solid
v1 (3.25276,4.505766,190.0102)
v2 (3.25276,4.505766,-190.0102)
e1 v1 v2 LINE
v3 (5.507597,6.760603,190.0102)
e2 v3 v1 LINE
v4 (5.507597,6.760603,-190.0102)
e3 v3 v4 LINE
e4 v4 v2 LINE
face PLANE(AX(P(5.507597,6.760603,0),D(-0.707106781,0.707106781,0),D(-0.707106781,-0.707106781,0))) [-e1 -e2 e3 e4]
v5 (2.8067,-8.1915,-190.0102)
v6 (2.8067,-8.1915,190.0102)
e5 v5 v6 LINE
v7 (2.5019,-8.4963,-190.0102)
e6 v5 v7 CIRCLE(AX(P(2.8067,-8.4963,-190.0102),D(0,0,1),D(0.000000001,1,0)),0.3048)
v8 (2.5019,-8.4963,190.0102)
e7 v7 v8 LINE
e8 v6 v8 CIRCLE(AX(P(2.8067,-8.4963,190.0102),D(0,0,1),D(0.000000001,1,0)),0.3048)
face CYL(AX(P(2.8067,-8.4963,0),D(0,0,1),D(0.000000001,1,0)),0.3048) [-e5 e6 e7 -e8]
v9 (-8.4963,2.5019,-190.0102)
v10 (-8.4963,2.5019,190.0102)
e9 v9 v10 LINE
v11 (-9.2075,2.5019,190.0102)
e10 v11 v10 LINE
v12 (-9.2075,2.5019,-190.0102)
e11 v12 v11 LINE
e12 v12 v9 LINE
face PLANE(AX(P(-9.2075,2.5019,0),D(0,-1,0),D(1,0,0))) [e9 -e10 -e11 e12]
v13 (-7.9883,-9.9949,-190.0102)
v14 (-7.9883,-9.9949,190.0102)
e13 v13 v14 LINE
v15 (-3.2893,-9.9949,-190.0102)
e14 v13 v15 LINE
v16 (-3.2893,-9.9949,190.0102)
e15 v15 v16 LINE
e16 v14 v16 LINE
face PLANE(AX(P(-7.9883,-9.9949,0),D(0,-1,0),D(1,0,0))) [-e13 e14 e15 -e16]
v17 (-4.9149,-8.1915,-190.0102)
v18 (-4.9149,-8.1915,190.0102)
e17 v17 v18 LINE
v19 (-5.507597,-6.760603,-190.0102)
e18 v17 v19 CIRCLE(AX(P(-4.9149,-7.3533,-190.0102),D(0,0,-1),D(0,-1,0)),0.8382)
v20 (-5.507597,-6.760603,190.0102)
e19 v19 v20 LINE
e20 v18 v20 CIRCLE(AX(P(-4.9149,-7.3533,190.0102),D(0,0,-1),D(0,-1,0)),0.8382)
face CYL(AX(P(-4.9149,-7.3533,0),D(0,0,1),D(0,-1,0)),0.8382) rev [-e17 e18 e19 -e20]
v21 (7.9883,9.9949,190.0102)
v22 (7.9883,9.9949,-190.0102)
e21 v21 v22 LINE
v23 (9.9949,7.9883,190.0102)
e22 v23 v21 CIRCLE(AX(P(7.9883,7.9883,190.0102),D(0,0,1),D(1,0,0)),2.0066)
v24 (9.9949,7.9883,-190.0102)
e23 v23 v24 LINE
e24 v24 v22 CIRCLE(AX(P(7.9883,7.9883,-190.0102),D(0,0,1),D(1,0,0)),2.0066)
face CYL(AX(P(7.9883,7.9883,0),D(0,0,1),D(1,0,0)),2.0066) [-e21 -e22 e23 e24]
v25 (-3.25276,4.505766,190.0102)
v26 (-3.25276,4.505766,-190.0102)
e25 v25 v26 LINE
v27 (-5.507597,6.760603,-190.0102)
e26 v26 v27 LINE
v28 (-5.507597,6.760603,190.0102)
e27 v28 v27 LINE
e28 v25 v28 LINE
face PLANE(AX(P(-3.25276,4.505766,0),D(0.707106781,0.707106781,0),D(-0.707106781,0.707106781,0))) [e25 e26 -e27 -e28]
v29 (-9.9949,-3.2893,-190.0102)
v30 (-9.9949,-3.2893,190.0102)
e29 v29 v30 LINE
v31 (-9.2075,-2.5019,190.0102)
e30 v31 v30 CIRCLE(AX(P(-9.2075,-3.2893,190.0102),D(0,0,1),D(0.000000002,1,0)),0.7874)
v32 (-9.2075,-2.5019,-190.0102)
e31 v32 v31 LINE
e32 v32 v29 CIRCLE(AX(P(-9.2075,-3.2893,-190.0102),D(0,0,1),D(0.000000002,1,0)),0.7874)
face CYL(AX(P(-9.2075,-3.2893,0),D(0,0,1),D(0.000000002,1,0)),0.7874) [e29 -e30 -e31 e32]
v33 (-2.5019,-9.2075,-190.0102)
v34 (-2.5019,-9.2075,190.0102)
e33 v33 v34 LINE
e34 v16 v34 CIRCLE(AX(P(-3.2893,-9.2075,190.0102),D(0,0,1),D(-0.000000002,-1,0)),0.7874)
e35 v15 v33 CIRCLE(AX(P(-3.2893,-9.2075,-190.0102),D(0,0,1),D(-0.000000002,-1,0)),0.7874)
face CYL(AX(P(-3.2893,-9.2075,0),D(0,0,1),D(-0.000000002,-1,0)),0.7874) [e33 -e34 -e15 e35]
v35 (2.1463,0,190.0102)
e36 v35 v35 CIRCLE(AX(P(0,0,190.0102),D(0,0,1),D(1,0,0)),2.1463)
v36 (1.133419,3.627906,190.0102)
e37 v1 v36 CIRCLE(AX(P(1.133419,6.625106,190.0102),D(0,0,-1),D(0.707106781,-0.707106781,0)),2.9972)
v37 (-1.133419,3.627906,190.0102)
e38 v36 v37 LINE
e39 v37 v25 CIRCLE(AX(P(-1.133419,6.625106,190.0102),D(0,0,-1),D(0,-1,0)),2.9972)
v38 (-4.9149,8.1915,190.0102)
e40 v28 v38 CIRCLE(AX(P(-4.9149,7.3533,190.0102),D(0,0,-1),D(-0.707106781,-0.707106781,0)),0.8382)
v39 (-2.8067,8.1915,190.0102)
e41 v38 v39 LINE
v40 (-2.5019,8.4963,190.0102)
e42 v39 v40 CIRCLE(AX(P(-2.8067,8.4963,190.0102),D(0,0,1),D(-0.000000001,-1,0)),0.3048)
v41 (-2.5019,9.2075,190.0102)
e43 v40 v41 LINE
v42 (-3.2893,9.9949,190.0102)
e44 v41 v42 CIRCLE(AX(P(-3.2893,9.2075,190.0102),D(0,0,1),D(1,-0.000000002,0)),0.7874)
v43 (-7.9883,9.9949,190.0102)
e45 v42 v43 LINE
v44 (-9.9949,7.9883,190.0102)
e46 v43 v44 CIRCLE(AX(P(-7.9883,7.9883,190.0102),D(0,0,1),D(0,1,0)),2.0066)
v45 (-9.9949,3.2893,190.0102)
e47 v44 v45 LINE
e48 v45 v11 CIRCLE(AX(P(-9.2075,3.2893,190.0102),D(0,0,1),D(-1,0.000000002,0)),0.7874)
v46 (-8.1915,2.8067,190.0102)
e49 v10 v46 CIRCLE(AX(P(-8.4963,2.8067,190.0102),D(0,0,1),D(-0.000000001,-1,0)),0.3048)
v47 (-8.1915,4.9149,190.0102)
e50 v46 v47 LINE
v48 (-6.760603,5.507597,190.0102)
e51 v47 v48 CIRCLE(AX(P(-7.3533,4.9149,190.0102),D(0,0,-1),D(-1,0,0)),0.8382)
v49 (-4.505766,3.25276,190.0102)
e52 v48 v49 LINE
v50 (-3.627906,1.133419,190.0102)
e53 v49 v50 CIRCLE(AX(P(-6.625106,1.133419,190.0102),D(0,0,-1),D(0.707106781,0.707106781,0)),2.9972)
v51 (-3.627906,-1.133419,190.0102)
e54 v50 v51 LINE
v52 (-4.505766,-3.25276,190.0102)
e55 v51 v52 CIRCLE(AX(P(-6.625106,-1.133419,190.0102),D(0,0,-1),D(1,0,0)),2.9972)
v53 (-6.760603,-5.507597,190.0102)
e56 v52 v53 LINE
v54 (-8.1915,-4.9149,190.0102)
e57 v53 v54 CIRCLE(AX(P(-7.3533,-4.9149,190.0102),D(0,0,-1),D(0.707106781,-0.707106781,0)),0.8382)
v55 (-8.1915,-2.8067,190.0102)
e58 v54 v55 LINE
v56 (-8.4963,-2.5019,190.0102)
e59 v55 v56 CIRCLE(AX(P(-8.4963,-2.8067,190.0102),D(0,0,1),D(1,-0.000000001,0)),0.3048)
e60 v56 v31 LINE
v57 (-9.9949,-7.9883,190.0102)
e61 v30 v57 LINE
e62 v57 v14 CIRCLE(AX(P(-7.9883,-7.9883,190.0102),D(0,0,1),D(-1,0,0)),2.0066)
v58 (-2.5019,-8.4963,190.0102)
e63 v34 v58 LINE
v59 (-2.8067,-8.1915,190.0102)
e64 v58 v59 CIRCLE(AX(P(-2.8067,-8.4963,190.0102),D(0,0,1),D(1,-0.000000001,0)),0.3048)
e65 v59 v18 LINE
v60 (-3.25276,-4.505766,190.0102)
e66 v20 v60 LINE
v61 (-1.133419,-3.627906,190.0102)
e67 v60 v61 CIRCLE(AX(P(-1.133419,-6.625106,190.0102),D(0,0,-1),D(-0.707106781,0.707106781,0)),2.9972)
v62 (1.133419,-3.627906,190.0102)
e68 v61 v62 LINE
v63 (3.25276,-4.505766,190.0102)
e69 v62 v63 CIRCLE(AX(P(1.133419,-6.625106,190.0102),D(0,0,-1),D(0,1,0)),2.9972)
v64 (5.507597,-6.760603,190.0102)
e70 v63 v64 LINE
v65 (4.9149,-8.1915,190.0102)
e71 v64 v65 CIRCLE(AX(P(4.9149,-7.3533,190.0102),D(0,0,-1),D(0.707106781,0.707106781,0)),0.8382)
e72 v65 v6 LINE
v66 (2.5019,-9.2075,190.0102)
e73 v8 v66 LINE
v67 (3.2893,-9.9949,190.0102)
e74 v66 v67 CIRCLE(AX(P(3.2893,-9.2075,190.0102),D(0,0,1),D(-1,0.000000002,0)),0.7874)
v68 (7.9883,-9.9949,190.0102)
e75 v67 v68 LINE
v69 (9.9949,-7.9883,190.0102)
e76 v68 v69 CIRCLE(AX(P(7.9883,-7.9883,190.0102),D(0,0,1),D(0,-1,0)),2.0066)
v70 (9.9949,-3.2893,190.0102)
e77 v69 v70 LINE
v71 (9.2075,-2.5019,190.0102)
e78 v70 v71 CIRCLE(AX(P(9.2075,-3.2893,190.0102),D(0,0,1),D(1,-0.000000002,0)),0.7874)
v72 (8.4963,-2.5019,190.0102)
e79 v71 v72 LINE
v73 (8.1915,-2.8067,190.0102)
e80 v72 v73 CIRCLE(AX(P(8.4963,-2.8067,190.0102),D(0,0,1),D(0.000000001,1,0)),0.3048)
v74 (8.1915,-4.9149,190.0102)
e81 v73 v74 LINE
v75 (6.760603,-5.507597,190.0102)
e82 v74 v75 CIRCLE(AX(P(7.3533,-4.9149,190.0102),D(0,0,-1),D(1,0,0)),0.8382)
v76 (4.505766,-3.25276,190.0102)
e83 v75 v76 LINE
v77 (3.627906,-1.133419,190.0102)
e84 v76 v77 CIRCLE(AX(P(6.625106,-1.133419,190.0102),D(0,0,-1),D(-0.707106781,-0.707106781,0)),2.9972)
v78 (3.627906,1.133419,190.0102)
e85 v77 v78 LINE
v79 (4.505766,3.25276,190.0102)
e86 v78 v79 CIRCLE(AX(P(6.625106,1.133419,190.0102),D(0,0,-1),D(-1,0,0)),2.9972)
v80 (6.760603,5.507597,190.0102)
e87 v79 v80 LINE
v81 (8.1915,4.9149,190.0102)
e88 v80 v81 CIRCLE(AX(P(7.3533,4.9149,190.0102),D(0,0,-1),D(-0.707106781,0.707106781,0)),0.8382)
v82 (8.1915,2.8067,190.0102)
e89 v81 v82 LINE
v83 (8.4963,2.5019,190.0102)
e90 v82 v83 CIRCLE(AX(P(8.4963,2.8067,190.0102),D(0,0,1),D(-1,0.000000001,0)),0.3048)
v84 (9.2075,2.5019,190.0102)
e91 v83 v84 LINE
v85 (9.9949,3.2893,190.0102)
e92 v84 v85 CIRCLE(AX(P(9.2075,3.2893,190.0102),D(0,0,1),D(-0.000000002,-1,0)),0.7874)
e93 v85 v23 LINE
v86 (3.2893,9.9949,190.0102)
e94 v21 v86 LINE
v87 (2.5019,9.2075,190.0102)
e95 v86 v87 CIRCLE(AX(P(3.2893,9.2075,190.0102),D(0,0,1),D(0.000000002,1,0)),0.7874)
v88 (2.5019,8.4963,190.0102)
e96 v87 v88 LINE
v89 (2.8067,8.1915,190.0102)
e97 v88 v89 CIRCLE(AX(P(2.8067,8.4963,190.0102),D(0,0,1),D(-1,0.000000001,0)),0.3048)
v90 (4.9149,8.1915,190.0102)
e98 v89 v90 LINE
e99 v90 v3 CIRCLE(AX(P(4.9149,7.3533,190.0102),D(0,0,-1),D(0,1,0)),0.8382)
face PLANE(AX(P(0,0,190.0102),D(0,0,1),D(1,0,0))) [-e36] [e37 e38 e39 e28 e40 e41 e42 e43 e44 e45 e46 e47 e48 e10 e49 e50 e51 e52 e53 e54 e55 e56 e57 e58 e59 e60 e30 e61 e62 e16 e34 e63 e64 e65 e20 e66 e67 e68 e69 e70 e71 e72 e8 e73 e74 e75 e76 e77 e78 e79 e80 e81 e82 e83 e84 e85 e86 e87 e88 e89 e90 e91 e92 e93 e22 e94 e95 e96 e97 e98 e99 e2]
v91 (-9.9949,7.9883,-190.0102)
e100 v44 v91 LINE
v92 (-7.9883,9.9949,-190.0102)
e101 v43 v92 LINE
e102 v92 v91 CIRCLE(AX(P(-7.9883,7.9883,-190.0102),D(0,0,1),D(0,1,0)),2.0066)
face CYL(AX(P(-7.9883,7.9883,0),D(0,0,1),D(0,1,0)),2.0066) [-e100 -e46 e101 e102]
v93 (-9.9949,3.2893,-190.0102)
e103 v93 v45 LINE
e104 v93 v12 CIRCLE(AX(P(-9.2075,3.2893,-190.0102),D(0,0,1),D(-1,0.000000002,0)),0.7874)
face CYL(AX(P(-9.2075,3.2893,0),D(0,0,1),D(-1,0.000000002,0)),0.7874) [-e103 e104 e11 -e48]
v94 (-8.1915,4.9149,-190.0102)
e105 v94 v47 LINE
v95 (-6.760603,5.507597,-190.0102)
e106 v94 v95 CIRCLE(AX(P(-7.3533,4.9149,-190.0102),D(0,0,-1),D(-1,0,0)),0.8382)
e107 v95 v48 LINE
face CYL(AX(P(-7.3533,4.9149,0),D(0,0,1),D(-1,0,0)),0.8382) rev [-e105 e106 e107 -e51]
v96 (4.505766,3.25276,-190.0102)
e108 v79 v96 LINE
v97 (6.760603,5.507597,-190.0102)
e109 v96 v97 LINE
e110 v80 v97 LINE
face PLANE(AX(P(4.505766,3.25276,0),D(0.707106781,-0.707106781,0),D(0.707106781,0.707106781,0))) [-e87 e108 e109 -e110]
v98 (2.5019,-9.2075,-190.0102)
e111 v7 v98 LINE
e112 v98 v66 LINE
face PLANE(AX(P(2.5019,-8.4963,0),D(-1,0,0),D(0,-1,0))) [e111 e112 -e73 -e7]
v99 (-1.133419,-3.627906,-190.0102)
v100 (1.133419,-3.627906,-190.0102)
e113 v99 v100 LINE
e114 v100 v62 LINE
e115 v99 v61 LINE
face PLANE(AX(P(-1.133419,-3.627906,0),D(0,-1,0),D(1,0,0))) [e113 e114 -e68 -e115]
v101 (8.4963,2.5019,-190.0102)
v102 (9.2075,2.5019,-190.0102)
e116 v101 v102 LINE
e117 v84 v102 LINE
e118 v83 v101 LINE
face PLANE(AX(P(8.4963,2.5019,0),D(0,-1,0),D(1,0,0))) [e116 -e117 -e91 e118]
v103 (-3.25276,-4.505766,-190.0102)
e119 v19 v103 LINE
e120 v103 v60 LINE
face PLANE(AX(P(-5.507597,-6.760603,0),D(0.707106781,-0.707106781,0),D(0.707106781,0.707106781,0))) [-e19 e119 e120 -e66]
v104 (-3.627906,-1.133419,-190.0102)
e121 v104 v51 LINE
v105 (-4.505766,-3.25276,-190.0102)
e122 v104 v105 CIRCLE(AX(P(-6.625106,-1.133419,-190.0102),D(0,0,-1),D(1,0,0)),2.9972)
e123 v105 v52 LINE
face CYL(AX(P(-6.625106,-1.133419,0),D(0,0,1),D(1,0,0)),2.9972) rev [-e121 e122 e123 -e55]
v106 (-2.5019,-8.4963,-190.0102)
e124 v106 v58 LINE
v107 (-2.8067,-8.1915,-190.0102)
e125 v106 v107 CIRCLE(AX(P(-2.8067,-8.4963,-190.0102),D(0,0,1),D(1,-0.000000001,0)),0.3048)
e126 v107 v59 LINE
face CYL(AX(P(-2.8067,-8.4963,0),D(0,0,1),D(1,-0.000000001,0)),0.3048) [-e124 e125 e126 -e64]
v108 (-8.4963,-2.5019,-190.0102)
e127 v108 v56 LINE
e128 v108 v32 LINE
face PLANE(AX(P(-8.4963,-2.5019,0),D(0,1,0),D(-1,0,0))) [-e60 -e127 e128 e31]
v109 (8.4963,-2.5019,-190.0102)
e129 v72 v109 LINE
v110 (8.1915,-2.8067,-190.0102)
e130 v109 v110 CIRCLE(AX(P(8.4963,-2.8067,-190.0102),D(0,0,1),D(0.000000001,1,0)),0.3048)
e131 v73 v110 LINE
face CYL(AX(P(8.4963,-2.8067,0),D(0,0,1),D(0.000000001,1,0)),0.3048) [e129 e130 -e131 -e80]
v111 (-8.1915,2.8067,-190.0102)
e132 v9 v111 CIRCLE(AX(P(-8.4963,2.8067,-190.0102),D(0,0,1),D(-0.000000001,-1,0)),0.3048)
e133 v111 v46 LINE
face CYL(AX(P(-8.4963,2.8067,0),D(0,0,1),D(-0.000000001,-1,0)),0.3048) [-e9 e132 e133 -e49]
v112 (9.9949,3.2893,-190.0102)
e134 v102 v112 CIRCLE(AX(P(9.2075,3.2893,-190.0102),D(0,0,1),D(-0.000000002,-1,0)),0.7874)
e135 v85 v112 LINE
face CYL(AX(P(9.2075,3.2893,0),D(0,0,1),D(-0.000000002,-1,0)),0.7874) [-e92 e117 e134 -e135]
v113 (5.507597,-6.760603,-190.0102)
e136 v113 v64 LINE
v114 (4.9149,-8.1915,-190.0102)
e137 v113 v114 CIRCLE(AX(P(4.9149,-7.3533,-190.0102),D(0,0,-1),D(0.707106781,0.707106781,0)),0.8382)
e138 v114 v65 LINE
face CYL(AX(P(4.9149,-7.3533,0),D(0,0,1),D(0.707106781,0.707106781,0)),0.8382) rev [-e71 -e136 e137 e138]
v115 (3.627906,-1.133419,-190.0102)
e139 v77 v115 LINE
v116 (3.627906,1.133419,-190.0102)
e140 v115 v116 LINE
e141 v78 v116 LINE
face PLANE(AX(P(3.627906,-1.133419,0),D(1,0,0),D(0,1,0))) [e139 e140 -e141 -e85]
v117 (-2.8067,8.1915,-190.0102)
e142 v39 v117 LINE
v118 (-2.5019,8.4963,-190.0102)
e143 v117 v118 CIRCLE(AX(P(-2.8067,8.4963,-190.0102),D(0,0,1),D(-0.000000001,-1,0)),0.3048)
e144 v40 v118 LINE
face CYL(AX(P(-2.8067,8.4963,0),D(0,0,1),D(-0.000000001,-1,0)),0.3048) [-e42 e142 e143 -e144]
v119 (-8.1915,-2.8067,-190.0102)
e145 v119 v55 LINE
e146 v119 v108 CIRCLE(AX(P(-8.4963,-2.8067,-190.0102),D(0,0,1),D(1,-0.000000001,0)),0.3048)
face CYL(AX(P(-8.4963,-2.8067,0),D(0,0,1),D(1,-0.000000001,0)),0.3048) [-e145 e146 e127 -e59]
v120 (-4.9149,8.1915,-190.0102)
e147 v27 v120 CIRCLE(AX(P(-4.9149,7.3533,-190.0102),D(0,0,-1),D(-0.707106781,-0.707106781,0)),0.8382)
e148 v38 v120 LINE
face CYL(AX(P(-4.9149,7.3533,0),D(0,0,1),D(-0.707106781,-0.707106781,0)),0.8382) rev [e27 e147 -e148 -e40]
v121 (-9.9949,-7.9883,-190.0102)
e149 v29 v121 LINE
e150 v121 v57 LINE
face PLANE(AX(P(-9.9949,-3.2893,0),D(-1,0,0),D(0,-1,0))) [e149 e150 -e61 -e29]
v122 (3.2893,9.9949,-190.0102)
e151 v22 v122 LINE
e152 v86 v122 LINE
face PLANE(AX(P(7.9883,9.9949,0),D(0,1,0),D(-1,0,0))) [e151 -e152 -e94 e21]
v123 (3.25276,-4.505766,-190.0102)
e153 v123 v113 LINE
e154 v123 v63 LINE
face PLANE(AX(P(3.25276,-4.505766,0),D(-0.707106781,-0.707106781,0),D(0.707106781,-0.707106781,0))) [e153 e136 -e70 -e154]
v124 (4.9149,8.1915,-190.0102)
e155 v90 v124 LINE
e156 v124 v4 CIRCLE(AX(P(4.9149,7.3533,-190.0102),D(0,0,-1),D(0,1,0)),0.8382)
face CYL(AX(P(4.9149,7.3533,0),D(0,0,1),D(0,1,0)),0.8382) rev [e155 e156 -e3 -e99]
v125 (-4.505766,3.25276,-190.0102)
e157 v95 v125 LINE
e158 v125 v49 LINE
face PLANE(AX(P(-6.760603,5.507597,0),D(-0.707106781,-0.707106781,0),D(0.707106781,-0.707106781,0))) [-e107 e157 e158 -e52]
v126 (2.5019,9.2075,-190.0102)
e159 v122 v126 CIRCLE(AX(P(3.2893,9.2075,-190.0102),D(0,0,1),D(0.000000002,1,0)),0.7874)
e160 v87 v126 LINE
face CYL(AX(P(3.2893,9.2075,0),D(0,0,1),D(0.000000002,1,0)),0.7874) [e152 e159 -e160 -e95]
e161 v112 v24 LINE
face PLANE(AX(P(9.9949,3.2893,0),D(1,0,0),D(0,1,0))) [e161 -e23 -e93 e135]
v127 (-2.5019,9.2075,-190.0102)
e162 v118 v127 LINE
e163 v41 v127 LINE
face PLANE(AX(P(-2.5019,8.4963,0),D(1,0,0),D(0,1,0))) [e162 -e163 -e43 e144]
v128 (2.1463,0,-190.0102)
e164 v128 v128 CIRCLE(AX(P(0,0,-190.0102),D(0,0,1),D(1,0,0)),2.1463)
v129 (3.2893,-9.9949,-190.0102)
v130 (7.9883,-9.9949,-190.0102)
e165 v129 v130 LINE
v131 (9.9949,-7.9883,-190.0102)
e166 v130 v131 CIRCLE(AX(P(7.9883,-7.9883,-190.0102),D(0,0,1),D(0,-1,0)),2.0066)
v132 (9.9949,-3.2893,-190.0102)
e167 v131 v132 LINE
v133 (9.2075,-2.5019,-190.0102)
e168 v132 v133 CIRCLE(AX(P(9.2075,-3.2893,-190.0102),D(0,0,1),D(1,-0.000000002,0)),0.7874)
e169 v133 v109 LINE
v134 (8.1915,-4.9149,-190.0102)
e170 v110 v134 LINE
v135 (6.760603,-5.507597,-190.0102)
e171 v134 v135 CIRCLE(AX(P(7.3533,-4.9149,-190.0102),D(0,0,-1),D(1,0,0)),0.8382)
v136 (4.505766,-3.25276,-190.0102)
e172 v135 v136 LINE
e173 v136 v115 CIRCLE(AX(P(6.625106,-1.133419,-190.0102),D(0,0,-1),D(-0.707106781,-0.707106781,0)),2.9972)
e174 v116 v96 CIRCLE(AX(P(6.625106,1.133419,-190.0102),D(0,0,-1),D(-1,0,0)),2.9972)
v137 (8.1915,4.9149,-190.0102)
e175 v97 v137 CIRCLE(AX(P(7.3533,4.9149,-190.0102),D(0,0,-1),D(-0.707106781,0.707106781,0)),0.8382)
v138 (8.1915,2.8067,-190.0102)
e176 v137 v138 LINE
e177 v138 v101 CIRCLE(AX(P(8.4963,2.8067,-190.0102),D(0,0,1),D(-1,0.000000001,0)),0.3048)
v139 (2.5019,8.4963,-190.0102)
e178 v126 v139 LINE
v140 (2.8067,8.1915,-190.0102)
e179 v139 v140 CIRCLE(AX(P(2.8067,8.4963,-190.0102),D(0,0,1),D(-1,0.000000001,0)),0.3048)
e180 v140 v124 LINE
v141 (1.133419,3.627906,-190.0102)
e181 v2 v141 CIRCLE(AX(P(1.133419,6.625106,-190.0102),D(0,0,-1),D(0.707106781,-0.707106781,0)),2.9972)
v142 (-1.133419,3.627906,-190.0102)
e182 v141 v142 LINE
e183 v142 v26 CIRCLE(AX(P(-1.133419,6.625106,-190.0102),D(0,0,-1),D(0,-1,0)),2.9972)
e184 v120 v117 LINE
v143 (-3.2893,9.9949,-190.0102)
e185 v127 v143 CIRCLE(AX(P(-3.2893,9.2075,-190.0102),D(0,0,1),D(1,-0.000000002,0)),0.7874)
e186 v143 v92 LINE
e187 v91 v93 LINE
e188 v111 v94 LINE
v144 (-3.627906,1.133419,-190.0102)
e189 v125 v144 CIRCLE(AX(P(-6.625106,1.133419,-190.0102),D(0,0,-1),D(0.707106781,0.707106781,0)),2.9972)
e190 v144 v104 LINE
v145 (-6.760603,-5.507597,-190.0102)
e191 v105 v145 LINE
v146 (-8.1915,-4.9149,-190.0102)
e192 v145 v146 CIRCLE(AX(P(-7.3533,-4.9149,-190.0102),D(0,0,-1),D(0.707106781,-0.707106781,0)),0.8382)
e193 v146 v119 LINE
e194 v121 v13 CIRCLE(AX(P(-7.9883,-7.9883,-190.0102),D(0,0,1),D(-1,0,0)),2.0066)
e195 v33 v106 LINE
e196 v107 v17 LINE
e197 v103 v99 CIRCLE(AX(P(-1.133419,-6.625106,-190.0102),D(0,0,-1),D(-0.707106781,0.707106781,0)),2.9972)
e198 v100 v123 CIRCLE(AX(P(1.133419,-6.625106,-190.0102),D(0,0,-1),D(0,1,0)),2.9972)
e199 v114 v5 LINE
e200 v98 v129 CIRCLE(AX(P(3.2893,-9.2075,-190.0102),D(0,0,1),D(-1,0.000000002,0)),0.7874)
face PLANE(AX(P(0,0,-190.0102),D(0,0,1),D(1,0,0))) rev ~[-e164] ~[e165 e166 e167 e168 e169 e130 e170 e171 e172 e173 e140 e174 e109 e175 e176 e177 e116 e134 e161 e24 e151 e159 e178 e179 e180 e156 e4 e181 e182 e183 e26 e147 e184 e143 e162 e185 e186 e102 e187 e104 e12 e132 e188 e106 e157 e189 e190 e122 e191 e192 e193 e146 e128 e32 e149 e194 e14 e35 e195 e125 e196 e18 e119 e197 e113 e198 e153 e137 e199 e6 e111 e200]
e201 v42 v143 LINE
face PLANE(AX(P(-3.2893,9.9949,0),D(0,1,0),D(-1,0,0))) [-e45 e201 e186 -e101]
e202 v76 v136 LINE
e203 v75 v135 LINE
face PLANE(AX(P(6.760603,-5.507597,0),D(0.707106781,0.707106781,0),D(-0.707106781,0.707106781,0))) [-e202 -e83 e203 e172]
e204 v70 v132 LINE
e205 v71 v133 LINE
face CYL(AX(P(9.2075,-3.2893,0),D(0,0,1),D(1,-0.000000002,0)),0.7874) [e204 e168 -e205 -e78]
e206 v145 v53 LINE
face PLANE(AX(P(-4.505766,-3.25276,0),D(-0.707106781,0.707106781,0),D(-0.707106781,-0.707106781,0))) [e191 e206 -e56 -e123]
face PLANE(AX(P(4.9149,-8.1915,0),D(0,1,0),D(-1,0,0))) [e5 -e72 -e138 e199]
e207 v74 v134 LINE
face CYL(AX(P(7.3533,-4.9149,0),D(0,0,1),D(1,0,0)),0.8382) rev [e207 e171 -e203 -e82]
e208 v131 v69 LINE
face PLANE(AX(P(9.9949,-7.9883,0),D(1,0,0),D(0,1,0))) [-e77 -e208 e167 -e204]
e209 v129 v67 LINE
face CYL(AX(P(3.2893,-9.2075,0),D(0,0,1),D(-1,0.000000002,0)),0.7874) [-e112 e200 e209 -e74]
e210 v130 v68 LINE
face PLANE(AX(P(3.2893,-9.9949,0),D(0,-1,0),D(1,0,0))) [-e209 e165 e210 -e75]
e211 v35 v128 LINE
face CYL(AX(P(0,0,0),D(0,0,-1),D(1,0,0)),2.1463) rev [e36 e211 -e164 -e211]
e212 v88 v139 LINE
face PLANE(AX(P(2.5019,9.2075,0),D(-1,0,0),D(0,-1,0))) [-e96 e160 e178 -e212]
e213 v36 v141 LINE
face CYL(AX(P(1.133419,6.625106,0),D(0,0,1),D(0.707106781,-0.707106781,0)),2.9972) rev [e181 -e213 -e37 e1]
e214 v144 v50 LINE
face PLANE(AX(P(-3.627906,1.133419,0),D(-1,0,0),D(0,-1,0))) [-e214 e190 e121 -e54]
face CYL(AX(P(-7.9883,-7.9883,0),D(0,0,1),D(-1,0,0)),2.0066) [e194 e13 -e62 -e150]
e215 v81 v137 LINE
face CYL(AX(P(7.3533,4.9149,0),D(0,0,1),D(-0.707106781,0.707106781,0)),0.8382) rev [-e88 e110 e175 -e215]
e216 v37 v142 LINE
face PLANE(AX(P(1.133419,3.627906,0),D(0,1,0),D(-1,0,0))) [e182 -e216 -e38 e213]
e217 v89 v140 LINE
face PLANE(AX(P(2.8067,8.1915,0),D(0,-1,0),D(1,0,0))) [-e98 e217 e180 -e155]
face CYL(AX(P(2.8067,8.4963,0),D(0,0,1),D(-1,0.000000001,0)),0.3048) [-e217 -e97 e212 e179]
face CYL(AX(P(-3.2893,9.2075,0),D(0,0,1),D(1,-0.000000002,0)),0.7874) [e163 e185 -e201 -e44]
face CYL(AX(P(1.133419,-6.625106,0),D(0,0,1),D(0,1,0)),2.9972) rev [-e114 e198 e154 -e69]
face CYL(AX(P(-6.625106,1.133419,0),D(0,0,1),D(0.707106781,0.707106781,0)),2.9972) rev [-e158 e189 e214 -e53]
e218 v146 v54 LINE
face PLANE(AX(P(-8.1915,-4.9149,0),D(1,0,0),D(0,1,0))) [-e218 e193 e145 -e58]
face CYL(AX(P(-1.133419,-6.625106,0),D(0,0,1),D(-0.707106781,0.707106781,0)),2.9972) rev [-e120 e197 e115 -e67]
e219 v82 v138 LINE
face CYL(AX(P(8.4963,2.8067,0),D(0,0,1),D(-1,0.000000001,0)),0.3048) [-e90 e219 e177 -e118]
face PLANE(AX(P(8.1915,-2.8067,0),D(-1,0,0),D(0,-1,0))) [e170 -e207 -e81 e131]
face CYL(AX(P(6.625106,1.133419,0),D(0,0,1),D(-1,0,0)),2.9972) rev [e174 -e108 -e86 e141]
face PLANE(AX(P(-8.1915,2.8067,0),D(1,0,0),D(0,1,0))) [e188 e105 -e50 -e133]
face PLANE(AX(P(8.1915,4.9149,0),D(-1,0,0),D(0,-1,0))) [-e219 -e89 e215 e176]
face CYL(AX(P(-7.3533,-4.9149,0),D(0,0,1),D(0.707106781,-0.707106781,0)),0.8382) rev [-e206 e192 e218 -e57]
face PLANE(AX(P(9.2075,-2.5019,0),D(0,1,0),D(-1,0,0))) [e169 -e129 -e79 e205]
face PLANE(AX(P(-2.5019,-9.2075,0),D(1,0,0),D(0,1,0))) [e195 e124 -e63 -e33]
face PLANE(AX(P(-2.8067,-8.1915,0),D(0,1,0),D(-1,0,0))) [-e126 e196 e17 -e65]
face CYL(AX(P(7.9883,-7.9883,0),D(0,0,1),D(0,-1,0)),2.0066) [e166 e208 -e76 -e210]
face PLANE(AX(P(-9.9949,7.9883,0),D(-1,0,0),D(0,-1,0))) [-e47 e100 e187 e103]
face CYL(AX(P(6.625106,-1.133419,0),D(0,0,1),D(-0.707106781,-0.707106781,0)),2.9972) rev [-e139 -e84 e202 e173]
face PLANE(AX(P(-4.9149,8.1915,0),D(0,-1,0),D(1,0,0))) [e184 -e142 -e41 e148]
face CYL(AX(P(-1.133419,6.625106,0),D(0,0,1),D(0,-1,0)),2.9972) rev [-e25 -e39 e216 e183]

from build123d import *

# Parameters (mm, degrees)
SKETCH1_R           = 2.1463
BOSS_EXTRUDE1_DEPTH = 190.0102


with BuildPart() as part:
    # Sketch1 → Boss-Extrude1 (new body, symmetric)
    with BuildSketch(Plane.XY):
        with BuildLine():
            Line((-9.9949, 7.9883), (-9.9949, 3.2893))
            ThreePointArc((-9.9949, 3.2893), (-9.76427588, 2.73252412), (-9.2075, 2.5019))
            Line((-9.2075, 2.5019), (-8.4963, 2.5019))
            ThreePointArc((-8.4963, 2.5019), (-8.280773853, 2.591173853), (-8.1915, 2.8067))
            Line((-8.1915, 2.8067), (-8.1915, 4.9149))
            ThreePointArc((-8.1915, 4.9149), (-7.674065253, 5.689295824), (-6.760603096, 5.507596904))
            Line((-6.760603096, 5.507596904), (-4.505765747, 3.252759555))
            ThreePointArc((-4.505765747, 3.252759555), (-3.856054457, 2.280397894), (-3.627906192, 1.133419111))
            Line((-3.627906192, 1.133419111), (-3.627906192, -1.133419111))
            ThreePointArc((-3.627906192, -1.133419111), (-3.856054457, -2.280397894), (-4.505765747, -3.252759555))
            Line((-4.505765747, -3.252759555), (-6.760603096, -5.507596904))
            ThreePointArc((-6.760603096, -5.507596904), (-7.674065253, -5.689295824), (-8.1915, -4.9149))
            Line((-8.1915, -4.9149), (-8.1915, -2.8067))
            ThreePointArc((-8.1915, -2.8067), (-8.280773853, -2.591173853), (-8.4963, -2.5019))
            Line((-8.4963, -2.5019), (-9.2075, -2.5019))
            ThreePointArc((-9.2075, -2.5019), (-9.76427588, -2.73252412), (-9.9949, -3.2893))
            Line((-9.9949, -3.2893), (-9.9949, -7.9883))
            ThreePointArc((-9.9949, -7.9883), (-9.407180467, -9.407180467), (-7.9883, -9.9949))
            Line((-7.9883, -9.9949), (-3.2893, -9.9949))
            ThreePointArc((-3.2893, -9.9949), (-2.73252412, -9.76427588), (-2.5019, -9.2075))
            Line((-2.5019, -9.2075), (-2.5019, -8.4963))
            ThreePointArc((-2.5019, -8.4963), (-2.591173853, -8.280773853), (-2.8067, -8.1915))
            Line((-2.8067, -8.1915), (-4.9149, -8.1915))
            ThreePointArc((-4.9149, -8.1915), (-5.689295824, -7.674065253), (-5.507596904, -6.760603096))
            Line((-5.507596904, -6.760603096), (-3.252759555, -4.505765747))
            ThreePointArc((-3.252759555, -4.505765747), (-2.280397894, -3.856054457), (-1.133419111, -3.627906192))
            Line((-1.133419111, -3.627906192), (1.133419111, -3.627906192))
            ThreePointArc((1.133419111, -3.627906192), (2.280397894, -3.856054457), (3.252759555, -4.505765747))
            Line((3.252759555, -4.505765747), (5.507596904, -6.760603096))
            ThreePointArc((5.507596904, -6.760603096), (5.689295824, -7.674065253), (4.9149, -8.1915))
            Line((4.9149, -8.1915), (2.8067, -8.1915))
            ThreePointArc((2.8067, -8.1915), (2.591173853, -8.280773853), (2.5019, -8.4963))
            Line((2.5019, -8.4963), (2.5019, -9.2075))
            ThreePointArc((2.5019, -9.2075), (2.73252412, -9.76427588), (3.2893, -9.9949))
            Line((3.2893, -9.9949), (7.9883, -9.9949))
            ThreePointArc((7.9883, -9.9949), (9.407180467, -9.407180467), (9.9949, -7.9883))
            Line((9.9949, -7.9883), (9.9949, -3.2893))
            ThreePointArc((9.9949, -3.2893), (9.76427588, -2.73252412), (9.2075, -2.5019))
            Line((9.2075, -2.5019), (8.4963, -2.5019))
            ThreePointArc((8.4963, -2.5019), (8.280773853, -2.591173853), (8.1915, -2.8067))
            Line((8.1915, -2.8067), (8.1915, -4.9149))
            ThreePointArc((8.1915, -4.9149), (7.674065253, -5.689295824), (6.760603096, -5.507596904))
            Line((6.760603096, -5.507596904), (4.505765747, -3.252759555))
            ThreePointArc((4.505765747, -3.252759555), (3.856054457, -2.280397894), (3.627906192, -1.133419111))
            Line((3.627906192, -1.133419111), (3.627906192, 1.133419111))
            ThreePointArc((3.627906192, 1.133419111), (3.856054457, 2.280397894), (4.505765747, 3.252759555))
            Line((4.505765747, 3.252759555), (6.760603096, 5.507596904))
            ThreePointArc((6.760603096, 5.507596904), (7.674065253, 5.689295824), (8.1915, 4.9149))
            Line((8.1915, 4.9149), (8.1915, 2.8067))
            ThreePointArc((8.1915, 2.8067), (8.280773853, 2.591173853), (8.4963, 2.5019))
            Line((8.4963, 2.5019), (9.2075, 2.5019))
            ThreePointArc((9.2075, 2.5019), (9.76427588, 2.73252412), (9.9949, 3.2893))
            Line((9.9949, 3.2893), (9.9949, 7.9883))
            ThreePointArc((9.9949, 7.9883), (9.407180467, 9.407180467), (7.9883, 9.9949))
            Line((7.9883, 9.9949), (3.2893, 9.9949))
            ThreePointArc((3.2893, 9.9949), (2.73252412, 9.76427588), (2.5019, 9.2075))
            Line((2.5019, 9.2075), (2.5019, 8.4963))
            ThreePointArc((2.5019, 8.4963), (2.591173853, 8.280773853), (2.8067, 8.1915))
            Line((2.8067, 8.1915), (4.9149, 8.1915))
            ThreePointArc((4.9149, 8.1915), (5.689295824, 7.674065253), (5.507596904, 6.760603096))
            Line((5.507596904, 6.760603096), (3.252759555, 4.505765747))
            ThreePointArc((3.252759555, 4.505765747), (2.280397894, 3.856054457), (1.133419111, 3.627906192))
            Line((1.133419111, 3.627906192), (-1.133419111, 3.627906192))
            ThreePointArc((-1.133419111, 3.627906192), (-2.280397894, 3.856054457), (-3.252759555, 4.505765747))
            Line((-3.252759555, 4.505765747), (-5.507596904, 6.760603096))
            ThreePointArc((-5.507596904, 6.760603096), (-5.689295824, 7.674065253), (-4.9149, 8.1915))
            Line((-4.9149, 8.1915), (-2.8067, 8.1915))
            ThreePointArc((-2.8067, 8.1915), (-2.591173853, 8.280773853), (-2.5019, 8.4963))
            Line((-2.5019, 8.4963), (-2.5019, 9.2075))
            ThreePointArc((-2.5019, 9.2075), (-2.73252412, 9.76427588), (-3.2893, 9.9949))
            Line((-3.2893, 9.9949), (-7.9883, 9.9949))
            ThreePointArc((-7.9883, 9.9949), (-9.407180467, 9.407180467), (-9.9949, 7.9883))
        make_face()
        Circle(SKETCH1_R, mode=Mode.SUBTRACT)
    extrude(amount=BOSS_EXTRUDE1_DEPTH, both=True)


solid = part.part
